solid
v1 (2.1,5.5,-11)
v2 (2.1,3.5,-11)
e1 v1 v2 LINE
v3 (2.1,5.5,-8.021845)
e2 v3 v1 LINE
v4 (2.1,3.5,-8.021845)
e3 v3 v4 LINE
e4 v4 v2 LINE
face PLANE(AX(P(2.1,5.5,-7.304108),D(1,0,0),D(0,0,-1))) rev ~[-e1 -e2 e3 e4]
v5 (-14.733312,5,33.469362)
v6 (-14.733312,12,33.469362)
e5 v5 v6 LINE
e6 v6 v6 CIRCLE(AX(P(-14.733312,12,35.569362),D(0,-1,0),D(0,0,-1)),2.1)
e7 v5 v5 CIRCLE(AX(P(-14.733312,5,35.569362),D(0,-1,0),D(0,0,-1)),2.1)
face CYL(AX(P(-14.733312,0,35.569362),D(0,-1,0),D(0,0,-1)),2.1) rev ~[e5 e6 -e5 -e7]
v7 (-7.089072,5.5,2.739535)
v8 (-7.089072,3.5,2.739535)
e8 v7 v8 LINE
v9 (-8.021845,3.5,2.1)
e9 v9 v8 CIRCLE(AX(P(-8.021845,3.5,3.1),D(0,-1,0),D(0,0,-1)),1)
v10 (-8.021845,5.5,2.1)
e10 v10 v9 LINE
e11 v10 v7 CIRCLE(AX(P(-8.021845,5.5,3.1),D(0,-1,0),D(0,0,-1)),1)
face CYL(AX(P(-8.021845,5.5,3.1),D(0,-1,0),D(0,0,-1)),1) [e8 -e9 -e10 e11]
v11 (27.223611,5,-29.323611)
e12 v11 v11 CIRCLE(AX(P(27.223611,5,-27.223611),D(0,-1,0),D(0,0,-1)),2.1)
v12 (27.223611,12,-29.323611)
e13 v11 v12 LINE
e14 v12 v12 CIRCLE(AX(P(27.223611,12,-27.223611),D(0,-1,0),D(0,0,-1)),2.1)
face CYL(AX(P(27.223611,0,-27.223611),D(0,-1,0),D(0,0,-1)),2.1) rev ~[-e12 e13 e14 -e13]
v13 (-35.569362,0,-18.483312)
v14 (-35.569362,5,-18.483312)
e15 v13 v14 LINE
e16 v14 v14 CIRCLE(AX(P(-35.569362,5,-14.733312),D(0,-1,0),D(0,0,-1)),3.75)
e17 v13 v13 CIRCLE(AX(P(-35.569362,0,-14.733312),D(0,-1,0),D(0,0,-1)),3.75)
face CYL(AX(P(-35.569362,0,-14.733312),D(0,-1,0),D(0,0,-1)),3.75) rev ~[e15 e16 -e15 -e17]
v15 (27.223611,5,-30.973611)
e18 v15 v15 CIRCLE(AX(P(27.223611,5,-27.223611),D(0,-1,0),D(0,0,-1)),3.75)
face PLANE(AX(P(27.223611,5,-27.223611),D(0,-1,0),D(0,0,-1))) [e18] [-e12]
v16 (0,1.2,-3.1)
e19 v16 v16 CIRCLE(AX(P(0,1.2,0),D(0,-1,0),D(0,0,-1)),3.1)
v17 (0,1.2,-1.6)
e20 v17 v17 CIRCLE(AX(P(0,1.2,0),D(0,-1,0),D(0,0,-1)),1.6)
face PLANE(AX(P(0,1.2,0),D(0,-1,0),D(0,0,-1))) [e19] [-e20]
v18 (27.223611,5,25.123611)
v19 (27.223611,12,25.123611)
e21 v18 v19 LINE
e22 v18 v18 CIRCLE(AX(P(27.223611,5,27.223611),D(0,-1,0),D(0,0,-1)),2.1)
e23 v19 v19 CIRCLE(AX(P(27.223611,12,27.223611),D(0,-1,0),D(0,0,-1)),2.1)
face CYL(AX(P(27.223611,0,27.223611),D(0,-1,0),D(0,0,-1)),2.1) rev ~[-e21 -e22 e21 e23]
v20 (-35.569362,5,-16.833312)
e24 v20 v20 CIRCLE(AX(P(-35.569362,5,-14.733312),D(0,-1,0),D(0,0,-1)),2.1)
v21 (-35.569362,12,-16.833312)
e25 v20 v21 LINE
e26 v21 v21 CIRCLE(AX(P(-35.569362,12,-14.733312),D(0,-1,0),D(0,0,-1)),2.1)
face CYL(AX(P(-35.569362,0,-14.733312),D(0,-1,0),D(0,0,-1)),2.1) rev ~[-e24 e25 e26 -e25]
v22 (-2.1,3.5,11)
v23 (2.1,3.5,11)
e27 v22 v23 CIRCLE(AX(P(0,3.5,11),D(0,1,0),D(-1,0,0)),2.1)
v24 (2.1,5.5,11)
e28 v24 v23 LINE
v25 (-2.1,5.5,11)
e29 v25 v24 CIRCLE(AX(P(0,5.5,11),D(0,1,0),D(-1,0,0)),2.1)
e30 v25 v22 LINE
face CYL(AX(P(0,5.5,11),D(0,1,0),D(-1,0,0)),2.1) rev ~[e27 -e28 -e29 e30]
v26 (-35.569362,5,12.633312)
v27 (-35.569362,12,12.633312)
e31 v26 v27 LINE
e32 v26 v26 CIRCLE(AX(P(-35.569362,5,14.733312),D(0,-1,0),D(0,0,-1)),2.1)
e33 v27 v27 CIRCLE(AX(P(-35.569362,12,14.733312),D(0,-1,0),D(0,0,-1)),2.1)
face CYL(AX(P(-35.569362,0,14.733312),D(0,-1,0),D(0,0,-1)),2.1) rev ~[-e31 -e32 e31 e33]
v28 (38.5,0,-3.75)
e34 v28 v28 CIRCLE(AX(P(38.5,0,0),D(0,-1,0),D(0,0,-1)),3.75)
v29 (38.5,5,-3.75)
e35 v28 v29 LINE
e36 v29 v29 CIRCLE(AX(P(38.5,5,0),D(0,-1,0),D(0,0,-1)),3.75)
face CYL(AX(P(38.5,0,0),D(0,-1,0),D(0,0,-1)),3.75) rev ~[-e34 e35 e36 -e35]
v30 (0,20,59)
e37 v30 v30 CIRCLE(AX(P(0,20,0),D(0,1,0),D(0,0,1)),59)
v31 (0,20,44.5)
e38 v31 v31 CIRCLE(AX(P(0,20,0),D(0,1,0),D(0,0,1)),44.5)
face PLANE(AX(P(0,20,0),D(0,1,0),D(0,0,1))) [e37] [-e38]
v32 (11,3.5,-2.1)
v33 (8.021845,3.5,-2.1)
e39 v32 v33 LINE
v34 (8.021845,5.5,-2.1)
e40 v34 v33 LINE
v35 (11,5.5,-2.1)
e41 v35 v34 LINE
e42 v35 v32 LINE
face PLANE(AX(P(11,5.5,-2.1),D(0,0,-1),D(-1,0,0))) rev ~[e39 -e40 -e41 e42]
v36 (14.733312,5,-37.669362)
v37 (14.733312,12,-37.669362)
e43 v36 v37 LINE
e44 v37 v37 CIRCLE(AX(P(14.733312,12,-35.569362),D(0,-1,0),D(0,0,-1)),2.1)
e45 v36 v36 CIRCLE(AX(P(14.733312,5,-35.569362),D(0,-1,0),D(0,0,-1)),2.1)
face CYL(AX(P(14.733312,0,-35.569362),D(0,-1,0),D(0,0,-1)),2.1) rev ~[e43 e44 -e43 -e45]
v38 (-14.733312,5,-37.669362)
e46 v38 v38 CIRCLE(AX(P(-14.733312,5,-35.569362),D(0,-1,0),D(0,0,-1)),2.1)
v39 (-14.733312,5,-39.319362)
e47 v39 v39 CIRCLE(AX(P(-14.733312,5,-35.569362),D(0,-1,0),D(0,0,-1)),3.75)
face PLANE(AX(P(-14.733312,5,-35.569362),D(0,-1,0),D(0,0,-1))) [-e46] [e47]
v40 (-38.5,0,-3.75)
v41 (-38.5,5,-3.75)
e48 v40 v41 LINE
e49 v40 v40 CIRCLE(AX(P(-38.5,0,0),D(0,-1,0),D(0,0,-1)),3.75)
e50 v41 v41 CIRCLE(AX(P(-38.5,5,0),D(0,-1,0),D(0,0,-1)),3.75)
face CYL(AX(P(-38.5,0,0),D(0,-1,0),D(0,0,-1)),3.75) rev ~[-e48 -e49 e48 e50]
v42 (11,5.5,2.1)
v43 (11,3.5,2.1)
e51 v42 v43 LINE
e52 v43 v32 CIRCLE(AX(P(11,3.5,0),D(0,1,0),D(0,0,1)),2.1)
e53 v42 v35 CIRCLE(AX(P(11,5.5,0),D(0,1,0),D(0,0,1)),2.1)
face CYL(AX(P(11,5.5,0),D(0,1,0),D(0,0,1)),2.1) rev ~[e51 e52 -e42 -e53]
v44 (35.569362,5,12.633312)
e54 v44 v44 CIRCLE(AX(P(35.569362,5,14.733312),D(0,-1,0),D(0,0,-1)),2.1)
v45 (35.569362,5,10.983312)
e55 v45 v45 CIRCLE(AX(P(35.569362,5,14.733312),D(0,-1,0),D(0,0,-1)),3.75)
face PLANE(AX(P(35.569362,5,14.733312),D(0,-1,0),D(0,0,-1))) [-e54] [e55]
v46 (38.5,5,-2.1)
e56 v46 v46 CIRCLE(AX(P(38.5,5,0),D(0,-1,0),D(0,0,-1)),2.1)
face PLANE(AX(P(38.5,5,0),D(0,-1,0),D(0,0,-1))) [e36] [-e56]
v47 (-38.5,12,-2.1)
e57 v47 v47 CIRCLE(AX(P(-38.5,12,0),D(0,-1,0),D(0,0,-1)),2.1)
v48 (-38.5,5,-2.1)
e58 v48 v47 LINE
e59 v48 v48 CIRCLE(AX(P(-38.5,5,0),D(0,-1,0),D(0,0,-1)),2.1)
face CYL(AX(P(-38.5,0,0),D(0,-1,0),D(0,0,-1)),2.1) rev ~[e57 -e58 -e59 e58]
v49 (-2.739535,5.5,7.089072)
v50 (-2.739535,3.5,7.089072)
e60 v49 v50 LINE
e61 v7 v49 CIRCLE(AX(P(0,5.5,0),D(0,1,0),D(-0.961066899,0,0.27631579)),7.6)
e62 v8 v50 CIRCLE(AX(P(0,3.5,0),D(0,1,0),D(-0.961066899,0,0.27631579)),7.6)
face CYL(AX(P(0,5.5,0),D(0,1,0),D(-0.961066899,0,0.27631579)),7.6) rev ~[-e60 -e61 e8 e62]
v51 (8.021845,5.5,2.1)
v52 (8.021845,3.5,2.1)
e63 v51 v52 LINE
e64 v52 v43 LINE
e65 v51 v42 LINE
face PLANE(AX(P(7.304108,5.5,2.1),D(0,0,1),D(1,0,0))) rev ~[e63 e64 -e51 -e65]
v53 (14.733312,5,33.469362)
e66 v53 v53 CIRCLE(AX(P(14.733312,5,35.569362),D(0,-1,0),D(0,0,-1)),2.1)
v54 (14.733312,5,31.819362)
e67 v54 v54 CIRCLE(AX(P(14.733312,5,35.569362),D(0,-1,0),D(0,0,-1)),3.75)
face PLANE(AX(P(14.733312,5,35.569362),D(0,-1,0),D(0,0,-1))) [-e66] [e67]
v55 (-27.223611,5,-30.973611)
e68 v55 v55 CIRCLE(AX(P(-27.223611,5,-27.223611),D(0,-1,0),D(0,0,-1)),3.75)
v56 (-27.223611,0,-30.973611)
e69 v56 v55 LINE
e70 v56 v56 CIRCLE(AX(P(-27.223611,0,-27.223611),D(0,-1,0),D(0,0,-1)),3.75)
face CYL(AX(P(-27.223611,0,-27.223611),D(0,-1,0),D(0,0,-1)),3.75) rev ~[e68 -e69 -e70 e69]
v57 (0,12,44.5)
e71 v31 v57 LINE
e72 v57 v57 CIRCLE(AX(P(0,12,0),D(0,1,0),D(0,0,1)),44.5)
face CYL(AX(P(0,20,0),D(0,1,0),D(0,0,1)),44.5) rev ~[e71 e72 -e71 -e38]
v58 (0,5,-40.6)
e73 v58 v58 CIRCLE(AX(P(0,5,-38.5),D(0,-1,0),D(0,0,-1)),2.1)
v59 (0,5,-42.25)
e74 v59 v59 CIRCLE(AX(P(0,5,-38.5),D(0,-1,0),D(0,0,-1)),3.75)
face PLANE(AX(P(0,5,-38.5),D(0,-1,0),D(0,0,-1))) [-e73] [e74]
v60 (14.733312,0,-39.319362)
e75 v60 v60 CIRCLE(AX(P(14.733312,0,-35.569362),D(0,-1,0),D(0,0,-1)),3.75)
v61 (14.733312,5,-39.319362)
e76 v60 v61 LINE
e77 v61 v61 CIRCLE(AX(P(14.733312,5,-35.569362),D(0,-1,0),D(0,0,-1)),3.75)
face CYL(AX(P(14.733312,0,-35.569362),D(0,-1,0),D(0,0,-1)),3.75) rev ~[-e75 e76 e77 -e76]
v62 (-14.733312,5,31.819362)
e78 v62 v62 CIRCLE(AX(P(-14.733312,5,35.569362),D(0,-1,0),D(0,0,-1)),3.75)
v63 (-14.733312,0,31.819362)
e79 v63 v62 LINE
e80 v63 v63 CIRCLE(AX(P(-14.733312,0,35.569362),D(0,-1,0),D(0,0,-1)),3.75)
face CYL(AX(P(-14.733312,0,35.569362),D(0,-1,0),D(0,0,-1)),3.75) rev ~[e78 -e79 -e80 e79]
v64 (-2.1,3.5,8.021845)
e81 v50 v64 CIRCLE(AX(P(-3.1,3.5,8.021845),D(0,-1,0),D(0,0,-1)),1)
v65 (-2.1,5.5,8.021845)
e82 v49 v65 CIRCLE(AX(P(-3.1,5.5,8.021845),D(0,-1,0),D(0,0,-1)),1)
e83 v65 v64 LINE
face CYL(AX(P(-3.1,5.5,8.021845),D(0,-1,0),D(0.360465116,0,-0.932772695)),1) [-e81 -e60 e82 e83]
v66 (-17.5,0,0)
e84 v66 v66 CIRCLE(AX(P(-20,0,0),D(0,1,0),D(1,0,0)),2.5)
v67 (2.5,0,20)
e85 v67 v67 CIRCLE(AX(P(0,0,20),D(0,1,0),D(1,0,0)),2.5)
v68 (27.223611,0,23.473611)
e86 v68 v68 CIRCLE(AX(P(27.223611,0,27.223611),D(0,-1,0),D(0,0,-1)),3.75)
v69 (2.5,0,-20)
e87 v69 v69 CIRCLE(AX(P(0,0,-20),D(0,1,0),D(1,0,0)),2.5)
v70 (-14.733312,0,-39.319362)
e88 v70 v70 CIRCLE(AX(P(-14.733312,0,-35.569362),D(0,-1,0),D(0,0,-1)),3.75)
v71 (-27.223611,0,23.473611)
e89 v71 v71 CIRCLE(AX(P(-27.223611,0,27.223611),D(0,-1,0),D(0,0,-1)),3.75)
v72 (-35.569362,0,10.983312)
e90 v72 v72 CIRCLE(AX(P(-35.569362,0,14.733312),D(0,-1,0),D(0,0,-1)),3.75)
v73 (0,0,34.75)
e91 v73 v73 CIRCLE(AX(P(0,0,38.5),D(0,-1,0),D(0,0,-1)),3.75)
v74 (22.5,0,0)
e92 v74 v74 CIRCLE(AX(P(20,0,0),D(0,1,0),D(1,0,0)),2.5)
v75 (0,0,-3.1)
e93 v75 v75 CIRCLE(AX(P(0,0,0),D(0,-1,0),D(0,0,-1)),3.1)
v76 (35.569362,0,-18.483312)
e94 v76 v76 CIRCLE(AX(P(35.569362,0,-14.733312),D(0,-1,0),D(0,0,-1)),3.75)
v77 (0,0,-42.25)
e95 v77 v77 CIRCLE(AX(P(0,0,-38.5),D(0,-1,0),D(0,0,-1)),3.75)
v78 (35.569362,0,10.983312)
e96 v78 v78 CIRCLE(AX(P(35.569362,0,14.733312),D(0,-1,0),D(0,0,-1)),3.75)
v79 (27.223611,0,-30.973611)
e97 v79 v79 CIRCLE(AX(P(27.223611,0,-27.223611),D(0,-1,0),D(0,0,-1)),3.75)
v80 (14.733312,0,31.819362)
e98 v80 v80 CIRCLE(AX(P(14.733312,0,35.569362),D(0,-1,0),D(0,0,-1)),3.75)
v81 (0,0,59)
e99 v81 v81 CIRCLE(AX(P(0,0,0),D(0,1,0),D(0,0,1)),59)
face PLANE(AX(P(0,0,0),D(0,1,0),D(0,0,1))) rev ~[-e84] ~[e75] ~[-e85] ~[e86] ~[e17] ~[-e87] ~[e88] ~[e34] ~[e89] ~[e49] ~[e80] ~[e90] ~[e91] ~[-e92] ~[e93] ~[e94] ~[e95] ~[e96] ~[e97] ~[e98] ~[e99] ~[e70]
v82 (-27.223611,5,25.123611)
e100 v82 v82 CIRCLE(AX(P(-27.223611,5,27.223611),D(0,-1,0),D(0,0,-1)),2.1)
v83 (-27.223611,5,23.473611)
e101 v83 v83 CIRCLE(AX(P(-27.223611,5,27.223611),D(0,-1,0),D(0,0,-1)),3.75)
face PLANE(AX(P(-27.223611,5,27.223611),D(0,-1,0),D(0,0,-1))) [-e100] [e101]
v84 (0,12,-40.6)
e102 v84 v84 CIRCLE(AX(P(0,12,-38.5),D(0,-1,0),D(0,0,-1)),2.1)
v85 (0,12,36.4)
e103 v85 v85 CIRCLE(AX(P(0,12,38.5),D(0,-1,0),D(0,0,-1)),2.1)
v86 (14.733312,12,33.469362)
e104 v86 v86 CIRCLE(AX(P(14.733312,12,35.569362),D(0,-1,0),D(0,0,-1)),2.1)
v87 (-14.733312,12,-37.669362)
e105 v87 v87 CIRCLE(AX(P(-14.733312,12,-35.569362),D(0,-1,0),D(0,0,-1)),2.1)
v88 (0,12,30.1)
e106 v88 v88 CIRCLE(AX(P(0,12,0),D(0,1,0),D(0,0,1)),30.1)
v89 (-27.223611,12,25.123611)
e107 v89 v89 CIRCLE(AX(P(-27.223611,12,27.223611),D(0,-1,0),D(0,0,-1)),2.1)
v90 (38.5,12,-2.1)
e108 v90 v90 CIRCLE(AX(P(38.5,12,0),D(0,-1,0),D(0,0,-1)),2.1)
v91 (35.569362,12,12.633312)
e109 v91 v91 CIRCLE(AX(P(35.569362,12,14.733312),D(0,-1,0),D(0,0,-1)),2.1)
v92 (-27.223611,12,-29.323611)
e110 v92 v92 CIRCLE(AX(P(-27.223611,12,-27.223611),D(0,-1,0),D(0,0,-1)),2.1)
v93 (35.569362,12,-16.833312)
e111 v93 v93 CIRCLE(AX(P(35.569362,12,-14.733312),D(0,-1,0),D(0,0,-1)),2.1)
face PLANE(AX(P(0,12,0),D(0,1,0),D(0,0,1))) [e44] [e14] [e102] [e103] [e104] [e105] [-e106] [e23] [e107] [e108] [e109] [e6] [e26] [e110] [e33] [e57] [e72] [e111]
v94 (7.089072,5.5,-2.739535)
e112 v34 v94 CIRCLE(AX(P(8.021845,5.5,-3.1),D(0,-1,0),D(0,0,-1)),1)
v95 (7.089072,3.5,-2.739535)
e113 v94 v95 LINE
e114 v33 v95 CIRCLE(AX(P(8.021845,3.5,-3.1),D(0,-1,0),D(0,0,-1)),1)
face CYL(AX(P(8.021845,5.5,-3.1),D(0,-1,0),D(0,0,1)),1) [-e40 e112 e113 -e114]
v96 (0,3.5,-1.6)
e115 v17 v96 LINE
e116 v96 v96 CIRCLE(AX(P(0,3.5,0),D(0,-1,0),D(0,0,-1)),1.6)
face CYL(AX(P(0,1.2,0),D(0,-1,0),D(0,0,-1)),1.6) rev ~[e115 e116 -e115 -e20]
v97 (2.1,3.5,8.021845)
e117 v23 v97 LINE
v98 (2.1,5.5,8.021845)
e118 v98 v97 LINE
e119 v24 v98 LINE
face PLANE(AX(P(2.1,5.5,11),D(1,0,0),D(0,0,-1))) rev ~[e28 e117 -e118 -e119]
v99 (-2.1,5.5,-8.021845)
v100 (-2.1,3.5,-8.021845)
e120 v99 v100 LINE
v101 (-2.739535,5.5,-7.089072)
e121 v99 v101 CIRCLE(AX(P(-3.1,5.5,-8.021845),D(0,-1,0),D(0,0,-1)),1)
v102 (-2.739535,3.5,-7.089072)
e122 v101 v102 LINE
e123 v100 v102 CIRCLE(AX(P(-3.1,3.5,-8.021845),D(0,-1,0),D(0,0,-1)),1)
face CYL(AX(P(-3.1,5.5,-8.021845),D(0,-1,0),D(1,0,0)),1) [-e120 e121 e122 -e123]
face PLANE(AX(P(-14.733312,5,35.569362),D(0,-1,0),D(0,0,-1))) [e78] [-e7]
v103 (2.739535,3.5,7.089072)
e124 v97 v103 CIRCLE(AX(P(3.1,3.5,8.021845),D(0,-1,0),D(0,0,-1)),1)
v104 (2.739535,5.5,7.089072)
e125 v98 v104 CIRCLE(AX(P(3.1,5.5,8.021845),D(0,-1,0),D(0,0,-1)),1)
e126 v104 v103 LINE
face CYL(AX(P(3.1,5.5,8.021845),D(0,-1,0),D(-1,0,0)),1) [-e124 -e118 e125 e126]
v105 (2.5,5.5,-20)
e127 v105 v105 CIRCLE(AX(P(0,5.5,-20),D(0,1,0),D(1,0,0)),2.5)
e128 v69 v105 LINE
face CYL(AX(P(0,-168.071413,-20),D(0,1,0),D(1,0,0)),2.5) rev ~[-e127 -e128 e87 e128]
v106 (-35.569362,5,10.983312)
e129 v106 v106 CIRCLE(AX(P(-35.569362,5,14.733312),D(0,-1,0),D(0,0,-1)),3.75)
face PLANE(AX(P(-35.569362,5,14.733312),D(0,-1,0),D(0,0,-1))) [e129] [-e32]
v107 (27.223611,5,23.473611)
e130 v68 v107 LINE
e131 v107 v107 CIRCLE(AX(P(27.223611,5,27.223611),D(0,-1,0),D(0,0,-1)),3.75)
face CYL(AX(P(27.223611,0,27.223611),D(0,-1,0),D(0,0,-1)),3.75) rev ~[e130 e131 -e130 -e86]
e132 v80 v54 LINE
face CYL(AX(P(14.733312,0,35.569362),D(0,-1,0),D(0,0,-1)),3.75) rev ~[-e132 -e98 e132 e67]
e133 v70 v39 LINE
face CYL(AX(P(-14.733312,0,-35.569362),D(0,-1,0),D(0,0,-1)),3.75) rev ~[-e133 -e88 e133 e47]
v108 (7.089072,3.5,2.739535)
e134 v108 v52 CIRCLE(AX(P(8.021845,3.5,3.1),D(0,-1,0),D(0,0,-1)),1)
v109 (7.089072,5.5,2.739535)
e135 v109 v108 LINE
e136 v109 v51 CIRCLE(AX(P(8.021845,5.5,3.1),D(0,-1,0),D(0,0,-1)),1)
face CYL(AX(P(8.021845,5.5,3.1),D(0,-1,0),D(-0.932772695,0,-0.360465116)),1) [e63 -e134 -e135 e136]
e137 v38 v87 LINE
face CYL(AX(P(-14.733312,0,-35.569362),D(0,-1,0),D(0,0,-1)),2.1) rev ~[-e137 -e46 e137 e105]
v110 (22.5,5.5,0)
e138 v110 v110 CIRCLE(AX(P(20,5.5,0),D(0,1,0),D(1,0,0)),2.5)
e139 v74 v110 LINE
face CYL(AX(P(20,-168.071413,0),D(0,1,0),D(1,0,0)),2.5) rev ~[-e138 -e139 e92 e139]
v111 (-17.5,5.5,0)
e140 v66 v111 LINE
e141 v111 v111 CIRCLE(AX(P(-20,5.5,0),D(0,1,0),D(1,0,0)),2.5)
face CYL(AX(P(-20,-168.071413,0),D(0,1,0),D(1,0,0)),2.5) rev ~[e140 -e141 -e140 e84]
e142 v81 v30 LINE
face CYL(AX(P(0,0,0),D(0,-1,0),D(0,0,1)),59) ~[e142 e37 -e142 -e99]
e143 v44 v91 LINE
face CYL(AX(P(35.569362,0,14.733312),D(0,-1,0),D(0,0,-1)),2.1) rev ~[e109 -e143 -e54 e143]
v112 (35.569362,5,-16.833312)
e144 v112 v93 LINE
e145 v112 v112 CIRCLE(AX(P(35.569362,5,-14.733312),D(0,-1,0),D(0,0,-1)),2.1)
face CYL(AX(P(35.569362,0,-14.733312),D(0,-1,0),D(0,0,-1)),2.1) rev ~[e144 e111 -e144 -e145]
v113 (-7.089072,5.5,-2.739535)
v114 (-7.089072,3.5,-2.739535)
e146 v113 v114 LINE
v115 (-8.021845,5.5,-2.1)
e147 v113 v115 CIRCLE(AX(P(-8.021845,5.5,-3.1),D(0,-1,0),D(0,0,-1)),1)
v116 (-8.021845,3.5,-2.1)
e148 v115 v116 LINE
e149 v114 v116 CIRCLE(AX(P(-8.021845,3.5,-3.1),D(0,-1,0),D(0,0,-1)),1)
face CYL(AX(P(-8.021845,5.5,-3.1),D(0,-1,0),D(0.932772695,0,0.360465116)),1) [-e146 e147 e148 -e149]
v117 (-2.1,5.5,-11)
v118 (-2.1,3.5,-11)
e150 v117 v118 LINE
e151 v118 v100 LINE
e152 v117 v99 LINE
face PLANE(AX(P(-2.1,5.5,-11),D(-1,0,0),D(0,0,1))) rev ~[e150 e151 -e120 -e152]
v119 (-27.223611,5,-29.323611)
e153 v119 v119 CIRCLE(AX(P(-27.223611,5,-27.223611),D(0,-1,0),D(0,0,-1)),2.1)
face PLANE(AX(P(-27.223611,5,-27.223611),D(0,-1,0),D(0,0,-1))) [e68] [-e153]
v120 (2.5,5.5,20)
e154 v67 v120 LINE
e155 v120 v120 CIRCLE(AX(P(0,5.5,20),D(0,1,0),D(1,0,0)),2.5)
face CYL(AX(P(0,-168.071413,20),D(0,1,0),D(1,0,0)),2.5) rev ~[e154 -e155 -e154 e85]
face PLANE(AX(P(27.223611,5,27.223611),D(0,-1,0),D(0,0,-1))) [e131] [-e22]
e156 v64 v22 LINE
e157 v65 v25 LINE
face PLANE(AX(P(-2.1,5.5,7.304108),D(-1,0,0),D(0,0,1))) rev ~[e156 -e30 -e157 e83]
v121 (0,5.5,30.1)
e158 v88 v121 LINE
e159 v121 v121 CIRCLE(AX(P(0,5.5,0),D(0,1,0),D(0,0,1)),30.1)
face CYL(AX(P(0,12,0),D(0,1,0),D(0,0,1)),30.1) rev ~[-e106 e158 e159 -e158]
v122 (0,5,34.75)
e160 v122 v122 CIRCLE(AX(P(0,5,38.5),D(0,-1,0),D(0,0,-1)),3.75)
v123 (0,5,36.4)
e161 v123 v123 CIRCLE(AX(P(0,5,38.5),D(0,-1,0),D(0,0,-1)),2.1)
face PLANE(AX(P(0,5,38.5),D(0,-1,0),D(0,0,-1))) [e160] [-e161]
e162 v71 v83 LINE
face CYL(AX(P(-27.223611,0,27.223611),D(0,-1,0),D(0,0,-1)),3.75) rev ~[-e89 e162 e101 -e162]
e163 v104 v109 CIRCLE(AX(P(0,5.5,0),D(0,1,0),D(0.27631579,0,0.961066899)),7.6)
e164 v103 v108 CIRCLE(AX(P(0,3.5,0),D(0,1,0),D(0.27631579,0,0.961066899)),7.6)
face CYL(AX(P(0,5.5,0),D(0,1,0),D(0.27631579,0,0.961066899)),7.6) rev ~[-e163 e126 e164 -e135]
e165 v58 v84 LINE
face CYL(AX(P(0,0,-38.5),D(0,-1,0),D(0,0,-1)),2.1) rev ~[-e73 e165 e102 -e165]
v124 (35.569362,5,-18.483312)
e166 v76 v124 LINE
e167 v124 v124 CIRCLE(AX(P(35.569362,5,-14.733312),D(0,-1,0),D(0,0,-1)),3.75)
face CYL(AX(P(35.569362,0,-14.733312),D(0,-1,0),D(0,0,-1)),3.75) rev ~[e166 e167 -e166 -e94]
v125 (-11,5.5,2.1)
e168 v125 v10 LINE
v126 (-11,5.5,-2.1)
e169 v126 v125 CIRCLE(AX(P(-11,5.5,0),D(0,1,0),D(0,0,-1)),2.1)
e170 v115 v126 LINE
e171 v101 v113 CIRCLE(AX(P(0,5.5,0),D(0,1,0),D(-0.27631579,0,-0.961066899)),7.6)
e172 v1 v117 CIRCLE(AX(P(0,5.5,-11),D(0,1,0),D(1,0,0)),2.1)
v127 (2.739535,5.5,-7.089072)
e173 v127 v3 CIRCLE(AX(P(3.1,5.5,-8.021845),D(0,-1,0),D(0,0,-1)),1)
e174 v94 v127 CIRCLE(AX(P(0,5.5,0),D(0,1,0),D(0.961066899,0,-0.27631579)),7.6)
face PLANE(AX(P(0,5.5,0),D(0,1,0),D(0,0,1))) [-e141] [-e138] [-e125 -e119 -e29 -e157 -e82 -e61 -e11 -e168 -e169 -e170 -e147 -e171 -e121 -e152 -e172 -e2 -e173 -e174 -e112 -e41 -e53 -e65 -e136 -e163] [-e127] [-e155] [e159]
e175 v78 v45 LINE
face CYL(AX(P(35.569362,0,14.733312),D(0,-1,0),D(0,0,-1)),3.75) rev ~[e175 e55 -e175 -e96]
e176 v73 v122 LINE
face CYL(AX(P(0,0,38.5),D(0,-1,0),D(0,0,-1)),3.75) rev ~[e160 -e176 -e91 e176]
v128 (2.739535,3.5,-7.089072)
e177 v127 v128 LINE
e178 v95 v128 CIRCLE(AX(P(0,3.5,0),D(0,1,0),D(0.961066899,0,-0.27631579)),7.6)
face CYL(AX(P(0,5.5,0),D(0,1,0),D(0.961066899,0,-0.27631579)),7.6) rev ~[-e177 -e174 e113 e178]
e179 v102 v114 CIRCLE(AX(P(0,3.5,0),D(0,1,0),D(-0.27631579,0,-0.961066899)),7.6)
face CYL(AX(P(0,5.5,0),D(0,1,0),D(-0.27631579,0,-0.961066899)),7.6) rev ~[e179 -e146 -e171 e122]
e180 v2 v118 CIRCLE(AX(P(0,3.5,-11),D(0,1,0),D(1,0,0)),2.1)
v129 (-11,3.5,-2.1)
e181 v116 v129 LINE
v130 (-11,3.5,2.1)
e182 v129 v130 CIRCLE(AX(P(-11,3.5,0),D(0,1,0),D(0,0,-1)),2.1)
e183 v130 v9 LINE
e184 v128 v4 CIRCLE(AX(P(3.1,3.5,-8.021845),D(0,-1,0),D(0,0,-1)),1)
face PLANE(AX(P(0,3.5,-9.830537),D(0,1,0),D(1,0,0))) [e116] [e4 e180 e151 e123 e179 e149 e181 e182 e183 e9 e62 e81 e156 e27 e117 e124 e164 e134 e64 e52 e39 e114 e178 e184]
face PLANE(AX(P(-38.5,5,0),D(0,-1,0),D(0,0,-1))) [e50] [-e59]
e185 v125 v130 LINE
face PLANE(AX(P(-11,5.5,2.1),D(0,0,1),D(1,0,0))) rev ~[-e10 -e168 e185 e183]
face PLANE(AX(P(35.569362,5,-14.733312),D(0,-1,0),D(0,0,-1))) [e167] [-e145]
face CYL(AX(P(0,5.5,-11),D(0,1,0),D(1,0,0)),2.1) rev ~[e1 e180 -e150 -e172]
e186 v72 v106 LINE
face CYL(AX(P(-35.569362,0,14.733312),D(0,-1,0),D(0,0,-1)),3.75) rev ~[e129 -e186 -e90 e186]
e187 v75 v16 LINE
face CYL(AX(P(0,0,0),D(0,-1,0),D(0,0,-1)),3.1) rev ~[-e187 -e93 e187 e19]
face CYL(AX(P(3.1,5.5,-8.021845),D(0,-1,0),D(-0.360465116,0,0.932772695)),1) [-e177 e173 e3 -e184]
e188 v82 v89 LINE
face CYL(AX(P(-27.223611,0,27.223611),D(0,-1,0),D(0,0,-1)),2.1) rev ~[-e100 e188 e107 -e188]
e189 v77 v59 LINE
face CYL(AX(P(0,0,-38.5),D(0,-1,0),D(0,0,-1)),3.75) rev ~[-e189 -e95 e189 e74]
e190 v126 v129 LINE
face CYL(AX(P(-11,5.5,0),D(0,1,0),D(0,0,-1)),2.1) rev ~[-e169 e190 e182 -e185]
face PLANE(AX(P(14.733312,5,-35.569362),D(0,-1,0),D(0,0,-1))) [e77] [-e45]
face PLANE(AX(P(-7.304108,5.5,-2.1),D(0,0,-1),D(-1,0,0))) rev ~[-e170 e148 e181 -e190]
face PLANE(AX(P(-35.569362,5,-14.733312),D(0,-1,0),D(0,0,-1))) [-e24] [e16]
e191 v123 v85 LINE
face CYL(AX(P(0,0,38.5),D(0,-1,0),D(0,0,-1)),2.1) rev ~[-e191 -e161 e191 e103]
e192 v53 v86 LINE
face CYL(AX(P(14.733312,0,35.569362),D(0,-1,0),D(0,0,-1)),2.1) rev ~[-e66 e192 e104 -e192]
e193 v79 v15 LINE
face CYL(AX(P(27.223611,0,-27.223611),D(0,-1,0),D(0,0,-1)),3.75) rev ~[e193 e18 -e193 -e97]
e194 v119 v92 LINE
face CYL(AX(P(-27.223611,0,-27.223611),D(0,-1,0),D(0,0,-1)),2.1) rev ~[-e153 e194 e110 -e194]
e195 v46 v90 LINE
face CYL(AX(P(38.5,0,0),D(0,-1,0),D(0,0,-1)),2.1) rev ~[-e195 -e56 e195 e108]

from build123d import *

# Parameters (mm, degrees)
SKETCH_1_R           = 59
EXTRUDE_1_DEPTH      = 20
SKETCH_2_R           = 44.5
CUT_EXTRUDE_1_DEPTH  = 8
SKETCH_3_R           = 30.1
CUT_EXTRUDE_2_DEPTH  = 6.5
SKETCH_4_R           = 2.1
CUT_EXTRUDE_3_DEPTH  = 86.802097876
SKETCH_5_R           = 3.75
CUT_EXTRUDE_4_DEPTH  = 5
M6X1_0_2_D           = 5
SKETCH_26_R          = 3.1
CUT_EXTRUDE_14_DEPTH = 1.2
CUT_EXTRUDE_17_DEPTH = 2
FILLET_1_R           = 1
SKETCH_29_R          = 1.6
CUT_EXTRUDE_18_DEPTH = 86.530345492


with BuildPart() as part:
    # 草图1 → 凸台-拉伸1 (new body)
    with BuildSketch(Plane(origin=(0, 0, 0), x_dir=(1, 0, 0), z_dir=(0, 1, 0))):
        with Locations(Location((0, 0, 0), (0, 0, 270))):
            Circle(SKETCH_1_R)
    extrude(amount=EXTRUDE_1_DEPTH)

    # 草图2 → 切除-拉伸1 (cut)
    with BuildSketch(Plane(origin=(0, 20, 0), x_dir=(1, 0, 0), z_dir=(0, 1, 0))):
        with Locations(Location((0, 0, 0), (0, 0, 270))):
            Circle(SKETCH_2_R)
    extrude(amount=-CUT_EXTRUDE_1_DEPTH, mode=Mode.SUBTRACT)

    # 草图3 → 切除-拉伸2 (cut)
    with BuildSketch(Plane(origin=(0, 12, 0), x_dir=(1, 0, 0), z_dir=(0, 1, 0))):
        with Locations(Location((0, 0, 0), (0, 0, 270))):
            Circle(SKETCH_3_R)
    extrude(amount=-CUT_EXTRUDE_2_DEPTH, mode=Mode.SUBTRACT)

    # 草图4 → 切除-拉伸3 (cut, through all)
    with BuildSketch(Plane.XZ):
        with Locations(Location((0, 38.5, 0), (0, 0, 270))):
            Circle(SKETCH_4_R)
        with Locations(Location((14.733312146, 35.569362002, 0), (0, 0, 270))):
            Circle(SKETCH_4_R)
        with Locations(Location((27.223611076, 27.223611076, 0), (0, 0, 270))):
            Circle(SKETCH_4_R)
        with Locations(Location((35.569362002, 14.733312146, 0), (0, 0, 270))):
            Circle(SKETCH_4_R)
        with Locations(Location((38.5, 0, 0), (0, 0, 270))):
            Circle(SKETCH_4_R)
        with Locations(Location((35.569362002, -14.733312146, 0), (0, 0, 270))):
            Circle(SKETCH_4_R)
        with Locations(Location((27.223611076, -27.223611076, 0), (0, 0, 270))):
            Circle(SKETCH_4_R)
        with Locations(Location((14.733312146, -35.569362002, 0), (0, 0, 270))):
            Circle(SKETCH_4_R)
        with Locations(Location((0, -38.5, 0), (0, 0, 270))):
            Circle(SKETCH_4_R)
        with Locations(Location((-14.733312146, -35.569362002, 0), (0, 0, 270))):
            Circle(SKETCH_4_R)
        with Locations(Location((-27.223611076, -27.223611076, 0), (0, 0, 270))):
            Circle(SKETCH_4_R)
        with Locations(Location((-35.569362002, -14.733312146, 0), (0, 0, 270))):
            Circle(SKETCH_4_R)
        with Locations(Location((-38.5, 0, 0), (0, 0, 270))):
            Circle(SKETCH_4_R)
        with Locations(Location((-35.569362002, 14.733312146, 0), (0, 0, 270))):
            Circle(SKETCH_4_R)
        with Locations(Location((-27.223611076, 27.223611076, 0), (0, 0, 270))):
            Circle(SKETCH_4_R)
        with Locations(Location((-14.733312146, 35.569362002, 0), (0, 0, 270))):
            Circle(SKETCH_4_R)
    extrude(amount=-CUT_EXTRUDE_3_DEPTH, mode=Mode.SUBTRACT)

    # 草图5 → 切除-拉伸4 (cut)
    with BuildSketch(Plane.XZ):
        with Locations(Location((0, 38.5, 0), (0, 0, 270))):
            Circle(SKETCH_5_R)
        with Locations(Location((14.733312146, 35.569362002, 0), (0, 0, 270))):
            Circle(SKETCH_5_R)
        with Locations(Location((27.223611076, 27.223611076, 0), (0, 0, 270))):
            Circle(SKETCH_5_R)
        with Locations(Location((35.569362002, 14.733312146, 0), (0, 0, 270))):
            Circle(SKETCH_5_R)
        with Locations(Location((38.5, 0, 0), (0, 0, 270))):
            Circle(SKETCH_5_R)
        with Locations(Location((35.569362002, -14.733312146, 0), (0, 0, 270))):
            Circle(SKETCH_5_R)
        with Locations(Location((27.223611076, -27.223611076, 0), (0, 0, 270))):
            Circle(SKETCH_5_R)
        with Locations(Location((14.733312146, -35.569362002, 0), (0, 0, 270))):
            Circle(SKETCH_5_R)
        with Locations(Location((0, -38.5, 0), (0, 0, 270))):
            Circle(SKETCH_5_R)
        with Locations(Location((-14.733312146, -35.569362002, 0), (0, 0, 270))):
            Circle(SKETCH_5_R)
        with Locations(Location((-27.223611076, -27.223611076, 0), (0, 0, 270))):
            Circle(SKETCH_5_R)
        with Locations(Location((-35.569362002, -14.733312146, 0), (0, 0, 270))):
            Circle(SKETCH_5_R)
        with Locations(Location((-38.5, 0, 0), (0, 0, 270))):
            Circle(SKETCH_5_R)
        with Locations(Location((-35.569362002, 14.733312146, 0), (0, 0, 270))):
            Circle(SKETCH_5_R)
        with Locations(Location((-27.223611076, 27.223611076, 0), (0, 0, 270))):
            Circle(SKETCH_5_R)
        with Locations(Location((-14.733312146, 35.569362002, 0), (0, 0, 270))):
            Circle(SKETCH_5_R)
    extrude(amount=-CUT_EXTRUDE_4_DEPTH, mode=Mode.SUBTRACT)

    # M6x1.0 螺纹孔2 (through all)
    with Locations(Plane(origin=(0, 0, 0), x_dir=(-1, 0, 0), z_dir=(0, -1, 0))):
        with Locations((0, 20), (-20, 0), (0, -20), (20, 0)):
            Hole(M6X1_0_2_D / 2)

    # 草图26 → 切除-拉伸14 (cut)
    with BuildSketch(Plane.XZ):
        with Locations(Location((0, 0, 0), (0, 0, 270))):
            Circle(SKETCH_26_R)
    extrude(amount=-CUT_EXTRUDE_14_DEPTH, mode=Mode.SUBTRACT)

    # 草图28 → 切除-拉伸17 (cut)
    with BuildSketch(Plane(origin=(0, 5.5, 0), x_dir=(1, 0, 0), z_dir=(0, 1, 0))):
        with BuildLine():
            Line((-2.1, 11), (-2.1, 7.304108433))
            ThreePointArc((-2.1, 7.304108433), (0, 7.6), (2.1, 7.304108433))
            Line((2.1, 7.304108433), (2.1, 11))
            ThreePointArc((2.1, 11), (0, 13.1), (-2.1, 11))
        make_face()
        with BuildLine():
            ThreePointArc((2.1, 5), (0, 2.9), (-2.1, 5))
            Line((-2.1, 5), (-2.1, 7.304108433))
            ThreePointArc((-2.1, 7.304108433), (-5.374011537, 5.374011537), (-7.304108433, 2.1))
            Line((-7.304108433, 2.1), (-5, 2.1))
            ThreePointArc((-5, 2.1), (-2.9, 0), (-5, -2.1))
            Line((-5, -2.1), (-7.304108433, -2.1))
            ThreePointArc((-7.304108433, -2.1), (-5.374011537, -5.374011537), (-2.1, -7.304108433))
            Line((-2.1, -7.304108433), (-2.1, -5))
            ThreePointArc((-2.1, -5), (0, -2.9), (2.1, -5))
            Line((2.1, -5), (2.1, -7.304108433))
            ThreePointArc((2.1, -7.304108433), (5.374011537, -5.374011537), (7.304108433, -2.1))
            Line((7.304108433, -2.1), (5, -2.1))
            ThreePointArc((5, -2.1), (2.9, 0), (5, 2.1))
            Line((5, 2.1), (7.304108433, 2.1))
            ThreePointArc((7.304108433, 2.1), (5.374011537, 5.374011537), (2.1, 7.304108433))
            Line((2.1, 7.304108433), (2.1, 5))
        make_face()
        with BuildLine():
            ThreePointArc((-7.304108433, -2.1), (-7.6, 0), (-7.304108433, 2.1))
            Line((-7.304108433, 2.1), (-11, 2.1))
            ThreePointArc((-11, 2.1), (-13.1, 0), (-11, -2.1))
            Line((-11, -2.1), (-7.304108433, -2.1))
        make_face()
        with BuildLine():
            ThreePointArc((2.1, -7.304108433), (0, -7.6), (-2.1, -7.304108433))
            Line((-2.1, -7.304108433), (-2.1, -11))
            ThreePointArc((-2.1, -11), (0, -13.1), (2.1, -11))
            Line((2.1, -11), (2.1, -7.304108433))
        make_face()
        with BuildLine():
            Line((11, 2.1), (7.304108433, 2.1))
            ThreePointArc((7.304108433, 2.1), (7.525663562, 1.060371612), (7.6, 0))
            ThreePointArc((7.6, 0), (7.525663562, -1.060371612), (7.304108433, -2.1))
            Line((7.304108433, -2.1), (11, -2.1))
            ThreePointArc((11, -2.1), (13.1, 0), (11, 2.1))
        make_face()
        with BuildLine():
            Line((-2.1, 7.304108433), (-2.1, 5))
            ThreePointArc((-2.1, 5), (0, 2.9), (2.1, 5))
            Line((2.1, 5), (2.1, 7.304108433))
            ThreePointArc((2.1, 7.304108433), (0, 7.6), (-2.1, 7.304108433))
        make_face()
        with BuildLine():
            Line((-5, 2.1), (-7.304108433, 2.1))
            ThreePointArc((-7.304108433, 2.1), (-7.6, 0), (-7.304108433, -2.1))
            Line((-7.304108433, -2.1), (-5, -2.1))
            ThreePointArc((-5, -2.1), (-2.9, 0), (-5, 2.1))
        make_face()
        with BuildLine():
            ThreePointArc((7.6, 0), (7.525663562, 1.060371612), (7.304108433, 2.1))
            Line((7.304108433, 2.1), (5, 2.1))
            ThreePointArc((5, 2.1), (2.9, 0), (5, -2.1))
            Line((5, -2.1), (7.304108433, -2.1))
            ThreePointArc((7.304108433, -2.1), (7.525663562, -1.060371612), (7.6, 0))
        make_face()
        with BuildLine():
            Line((-2.1, -5), (-2.1, -7.304108433))
            ThreePointArc((-2.1, -7.304108433), (0, -7.6), (2.1, -7.304108433))
            Line((2.1, -7.304108433), (2.1, -5))
            ThreePointArc((2.1, -5), (0, -2.9), (-2.1, -5))
        make_face()
    extrude(amount=-CUT_EXTRUDE_17_DEPTH, mode=Mode.SUBTRACT)

    # 圆角1
    fillet_1_edges = [part.edges().sort_by_distance(p)[0] for p in [
        (-7.304108433, 4.5, -2.1),
        (-2.1, 4.5, -7.304108433),
        (2.1, 4.5, -7.304108433),
        (7.304108433, 4.5, -2.1),
        (7.304108433, 4.5, 2.1),
        (2.1, 4.5, 7.304108433),
        (-2.1, 4.5, 7.304108433),
        (-7.304108433, 4.5, 2.1),
    ]]
    fillet(fillet_1_edges, radius=FILLET_1_R)

    # 草图29 → 切除-拉伸18 (cut, through all)
    with BuildSketch(Plane.XZ.offset(-1.2)):
        with Locations(Location((0, 0, 0), (0, 0, 270))):
            Circle(SKETCH_29_R)
    extrude(amount=-CUT_EXTRUDE_18_DEPTH, mode=Mode.SUBTRACT)


solid = part.part
